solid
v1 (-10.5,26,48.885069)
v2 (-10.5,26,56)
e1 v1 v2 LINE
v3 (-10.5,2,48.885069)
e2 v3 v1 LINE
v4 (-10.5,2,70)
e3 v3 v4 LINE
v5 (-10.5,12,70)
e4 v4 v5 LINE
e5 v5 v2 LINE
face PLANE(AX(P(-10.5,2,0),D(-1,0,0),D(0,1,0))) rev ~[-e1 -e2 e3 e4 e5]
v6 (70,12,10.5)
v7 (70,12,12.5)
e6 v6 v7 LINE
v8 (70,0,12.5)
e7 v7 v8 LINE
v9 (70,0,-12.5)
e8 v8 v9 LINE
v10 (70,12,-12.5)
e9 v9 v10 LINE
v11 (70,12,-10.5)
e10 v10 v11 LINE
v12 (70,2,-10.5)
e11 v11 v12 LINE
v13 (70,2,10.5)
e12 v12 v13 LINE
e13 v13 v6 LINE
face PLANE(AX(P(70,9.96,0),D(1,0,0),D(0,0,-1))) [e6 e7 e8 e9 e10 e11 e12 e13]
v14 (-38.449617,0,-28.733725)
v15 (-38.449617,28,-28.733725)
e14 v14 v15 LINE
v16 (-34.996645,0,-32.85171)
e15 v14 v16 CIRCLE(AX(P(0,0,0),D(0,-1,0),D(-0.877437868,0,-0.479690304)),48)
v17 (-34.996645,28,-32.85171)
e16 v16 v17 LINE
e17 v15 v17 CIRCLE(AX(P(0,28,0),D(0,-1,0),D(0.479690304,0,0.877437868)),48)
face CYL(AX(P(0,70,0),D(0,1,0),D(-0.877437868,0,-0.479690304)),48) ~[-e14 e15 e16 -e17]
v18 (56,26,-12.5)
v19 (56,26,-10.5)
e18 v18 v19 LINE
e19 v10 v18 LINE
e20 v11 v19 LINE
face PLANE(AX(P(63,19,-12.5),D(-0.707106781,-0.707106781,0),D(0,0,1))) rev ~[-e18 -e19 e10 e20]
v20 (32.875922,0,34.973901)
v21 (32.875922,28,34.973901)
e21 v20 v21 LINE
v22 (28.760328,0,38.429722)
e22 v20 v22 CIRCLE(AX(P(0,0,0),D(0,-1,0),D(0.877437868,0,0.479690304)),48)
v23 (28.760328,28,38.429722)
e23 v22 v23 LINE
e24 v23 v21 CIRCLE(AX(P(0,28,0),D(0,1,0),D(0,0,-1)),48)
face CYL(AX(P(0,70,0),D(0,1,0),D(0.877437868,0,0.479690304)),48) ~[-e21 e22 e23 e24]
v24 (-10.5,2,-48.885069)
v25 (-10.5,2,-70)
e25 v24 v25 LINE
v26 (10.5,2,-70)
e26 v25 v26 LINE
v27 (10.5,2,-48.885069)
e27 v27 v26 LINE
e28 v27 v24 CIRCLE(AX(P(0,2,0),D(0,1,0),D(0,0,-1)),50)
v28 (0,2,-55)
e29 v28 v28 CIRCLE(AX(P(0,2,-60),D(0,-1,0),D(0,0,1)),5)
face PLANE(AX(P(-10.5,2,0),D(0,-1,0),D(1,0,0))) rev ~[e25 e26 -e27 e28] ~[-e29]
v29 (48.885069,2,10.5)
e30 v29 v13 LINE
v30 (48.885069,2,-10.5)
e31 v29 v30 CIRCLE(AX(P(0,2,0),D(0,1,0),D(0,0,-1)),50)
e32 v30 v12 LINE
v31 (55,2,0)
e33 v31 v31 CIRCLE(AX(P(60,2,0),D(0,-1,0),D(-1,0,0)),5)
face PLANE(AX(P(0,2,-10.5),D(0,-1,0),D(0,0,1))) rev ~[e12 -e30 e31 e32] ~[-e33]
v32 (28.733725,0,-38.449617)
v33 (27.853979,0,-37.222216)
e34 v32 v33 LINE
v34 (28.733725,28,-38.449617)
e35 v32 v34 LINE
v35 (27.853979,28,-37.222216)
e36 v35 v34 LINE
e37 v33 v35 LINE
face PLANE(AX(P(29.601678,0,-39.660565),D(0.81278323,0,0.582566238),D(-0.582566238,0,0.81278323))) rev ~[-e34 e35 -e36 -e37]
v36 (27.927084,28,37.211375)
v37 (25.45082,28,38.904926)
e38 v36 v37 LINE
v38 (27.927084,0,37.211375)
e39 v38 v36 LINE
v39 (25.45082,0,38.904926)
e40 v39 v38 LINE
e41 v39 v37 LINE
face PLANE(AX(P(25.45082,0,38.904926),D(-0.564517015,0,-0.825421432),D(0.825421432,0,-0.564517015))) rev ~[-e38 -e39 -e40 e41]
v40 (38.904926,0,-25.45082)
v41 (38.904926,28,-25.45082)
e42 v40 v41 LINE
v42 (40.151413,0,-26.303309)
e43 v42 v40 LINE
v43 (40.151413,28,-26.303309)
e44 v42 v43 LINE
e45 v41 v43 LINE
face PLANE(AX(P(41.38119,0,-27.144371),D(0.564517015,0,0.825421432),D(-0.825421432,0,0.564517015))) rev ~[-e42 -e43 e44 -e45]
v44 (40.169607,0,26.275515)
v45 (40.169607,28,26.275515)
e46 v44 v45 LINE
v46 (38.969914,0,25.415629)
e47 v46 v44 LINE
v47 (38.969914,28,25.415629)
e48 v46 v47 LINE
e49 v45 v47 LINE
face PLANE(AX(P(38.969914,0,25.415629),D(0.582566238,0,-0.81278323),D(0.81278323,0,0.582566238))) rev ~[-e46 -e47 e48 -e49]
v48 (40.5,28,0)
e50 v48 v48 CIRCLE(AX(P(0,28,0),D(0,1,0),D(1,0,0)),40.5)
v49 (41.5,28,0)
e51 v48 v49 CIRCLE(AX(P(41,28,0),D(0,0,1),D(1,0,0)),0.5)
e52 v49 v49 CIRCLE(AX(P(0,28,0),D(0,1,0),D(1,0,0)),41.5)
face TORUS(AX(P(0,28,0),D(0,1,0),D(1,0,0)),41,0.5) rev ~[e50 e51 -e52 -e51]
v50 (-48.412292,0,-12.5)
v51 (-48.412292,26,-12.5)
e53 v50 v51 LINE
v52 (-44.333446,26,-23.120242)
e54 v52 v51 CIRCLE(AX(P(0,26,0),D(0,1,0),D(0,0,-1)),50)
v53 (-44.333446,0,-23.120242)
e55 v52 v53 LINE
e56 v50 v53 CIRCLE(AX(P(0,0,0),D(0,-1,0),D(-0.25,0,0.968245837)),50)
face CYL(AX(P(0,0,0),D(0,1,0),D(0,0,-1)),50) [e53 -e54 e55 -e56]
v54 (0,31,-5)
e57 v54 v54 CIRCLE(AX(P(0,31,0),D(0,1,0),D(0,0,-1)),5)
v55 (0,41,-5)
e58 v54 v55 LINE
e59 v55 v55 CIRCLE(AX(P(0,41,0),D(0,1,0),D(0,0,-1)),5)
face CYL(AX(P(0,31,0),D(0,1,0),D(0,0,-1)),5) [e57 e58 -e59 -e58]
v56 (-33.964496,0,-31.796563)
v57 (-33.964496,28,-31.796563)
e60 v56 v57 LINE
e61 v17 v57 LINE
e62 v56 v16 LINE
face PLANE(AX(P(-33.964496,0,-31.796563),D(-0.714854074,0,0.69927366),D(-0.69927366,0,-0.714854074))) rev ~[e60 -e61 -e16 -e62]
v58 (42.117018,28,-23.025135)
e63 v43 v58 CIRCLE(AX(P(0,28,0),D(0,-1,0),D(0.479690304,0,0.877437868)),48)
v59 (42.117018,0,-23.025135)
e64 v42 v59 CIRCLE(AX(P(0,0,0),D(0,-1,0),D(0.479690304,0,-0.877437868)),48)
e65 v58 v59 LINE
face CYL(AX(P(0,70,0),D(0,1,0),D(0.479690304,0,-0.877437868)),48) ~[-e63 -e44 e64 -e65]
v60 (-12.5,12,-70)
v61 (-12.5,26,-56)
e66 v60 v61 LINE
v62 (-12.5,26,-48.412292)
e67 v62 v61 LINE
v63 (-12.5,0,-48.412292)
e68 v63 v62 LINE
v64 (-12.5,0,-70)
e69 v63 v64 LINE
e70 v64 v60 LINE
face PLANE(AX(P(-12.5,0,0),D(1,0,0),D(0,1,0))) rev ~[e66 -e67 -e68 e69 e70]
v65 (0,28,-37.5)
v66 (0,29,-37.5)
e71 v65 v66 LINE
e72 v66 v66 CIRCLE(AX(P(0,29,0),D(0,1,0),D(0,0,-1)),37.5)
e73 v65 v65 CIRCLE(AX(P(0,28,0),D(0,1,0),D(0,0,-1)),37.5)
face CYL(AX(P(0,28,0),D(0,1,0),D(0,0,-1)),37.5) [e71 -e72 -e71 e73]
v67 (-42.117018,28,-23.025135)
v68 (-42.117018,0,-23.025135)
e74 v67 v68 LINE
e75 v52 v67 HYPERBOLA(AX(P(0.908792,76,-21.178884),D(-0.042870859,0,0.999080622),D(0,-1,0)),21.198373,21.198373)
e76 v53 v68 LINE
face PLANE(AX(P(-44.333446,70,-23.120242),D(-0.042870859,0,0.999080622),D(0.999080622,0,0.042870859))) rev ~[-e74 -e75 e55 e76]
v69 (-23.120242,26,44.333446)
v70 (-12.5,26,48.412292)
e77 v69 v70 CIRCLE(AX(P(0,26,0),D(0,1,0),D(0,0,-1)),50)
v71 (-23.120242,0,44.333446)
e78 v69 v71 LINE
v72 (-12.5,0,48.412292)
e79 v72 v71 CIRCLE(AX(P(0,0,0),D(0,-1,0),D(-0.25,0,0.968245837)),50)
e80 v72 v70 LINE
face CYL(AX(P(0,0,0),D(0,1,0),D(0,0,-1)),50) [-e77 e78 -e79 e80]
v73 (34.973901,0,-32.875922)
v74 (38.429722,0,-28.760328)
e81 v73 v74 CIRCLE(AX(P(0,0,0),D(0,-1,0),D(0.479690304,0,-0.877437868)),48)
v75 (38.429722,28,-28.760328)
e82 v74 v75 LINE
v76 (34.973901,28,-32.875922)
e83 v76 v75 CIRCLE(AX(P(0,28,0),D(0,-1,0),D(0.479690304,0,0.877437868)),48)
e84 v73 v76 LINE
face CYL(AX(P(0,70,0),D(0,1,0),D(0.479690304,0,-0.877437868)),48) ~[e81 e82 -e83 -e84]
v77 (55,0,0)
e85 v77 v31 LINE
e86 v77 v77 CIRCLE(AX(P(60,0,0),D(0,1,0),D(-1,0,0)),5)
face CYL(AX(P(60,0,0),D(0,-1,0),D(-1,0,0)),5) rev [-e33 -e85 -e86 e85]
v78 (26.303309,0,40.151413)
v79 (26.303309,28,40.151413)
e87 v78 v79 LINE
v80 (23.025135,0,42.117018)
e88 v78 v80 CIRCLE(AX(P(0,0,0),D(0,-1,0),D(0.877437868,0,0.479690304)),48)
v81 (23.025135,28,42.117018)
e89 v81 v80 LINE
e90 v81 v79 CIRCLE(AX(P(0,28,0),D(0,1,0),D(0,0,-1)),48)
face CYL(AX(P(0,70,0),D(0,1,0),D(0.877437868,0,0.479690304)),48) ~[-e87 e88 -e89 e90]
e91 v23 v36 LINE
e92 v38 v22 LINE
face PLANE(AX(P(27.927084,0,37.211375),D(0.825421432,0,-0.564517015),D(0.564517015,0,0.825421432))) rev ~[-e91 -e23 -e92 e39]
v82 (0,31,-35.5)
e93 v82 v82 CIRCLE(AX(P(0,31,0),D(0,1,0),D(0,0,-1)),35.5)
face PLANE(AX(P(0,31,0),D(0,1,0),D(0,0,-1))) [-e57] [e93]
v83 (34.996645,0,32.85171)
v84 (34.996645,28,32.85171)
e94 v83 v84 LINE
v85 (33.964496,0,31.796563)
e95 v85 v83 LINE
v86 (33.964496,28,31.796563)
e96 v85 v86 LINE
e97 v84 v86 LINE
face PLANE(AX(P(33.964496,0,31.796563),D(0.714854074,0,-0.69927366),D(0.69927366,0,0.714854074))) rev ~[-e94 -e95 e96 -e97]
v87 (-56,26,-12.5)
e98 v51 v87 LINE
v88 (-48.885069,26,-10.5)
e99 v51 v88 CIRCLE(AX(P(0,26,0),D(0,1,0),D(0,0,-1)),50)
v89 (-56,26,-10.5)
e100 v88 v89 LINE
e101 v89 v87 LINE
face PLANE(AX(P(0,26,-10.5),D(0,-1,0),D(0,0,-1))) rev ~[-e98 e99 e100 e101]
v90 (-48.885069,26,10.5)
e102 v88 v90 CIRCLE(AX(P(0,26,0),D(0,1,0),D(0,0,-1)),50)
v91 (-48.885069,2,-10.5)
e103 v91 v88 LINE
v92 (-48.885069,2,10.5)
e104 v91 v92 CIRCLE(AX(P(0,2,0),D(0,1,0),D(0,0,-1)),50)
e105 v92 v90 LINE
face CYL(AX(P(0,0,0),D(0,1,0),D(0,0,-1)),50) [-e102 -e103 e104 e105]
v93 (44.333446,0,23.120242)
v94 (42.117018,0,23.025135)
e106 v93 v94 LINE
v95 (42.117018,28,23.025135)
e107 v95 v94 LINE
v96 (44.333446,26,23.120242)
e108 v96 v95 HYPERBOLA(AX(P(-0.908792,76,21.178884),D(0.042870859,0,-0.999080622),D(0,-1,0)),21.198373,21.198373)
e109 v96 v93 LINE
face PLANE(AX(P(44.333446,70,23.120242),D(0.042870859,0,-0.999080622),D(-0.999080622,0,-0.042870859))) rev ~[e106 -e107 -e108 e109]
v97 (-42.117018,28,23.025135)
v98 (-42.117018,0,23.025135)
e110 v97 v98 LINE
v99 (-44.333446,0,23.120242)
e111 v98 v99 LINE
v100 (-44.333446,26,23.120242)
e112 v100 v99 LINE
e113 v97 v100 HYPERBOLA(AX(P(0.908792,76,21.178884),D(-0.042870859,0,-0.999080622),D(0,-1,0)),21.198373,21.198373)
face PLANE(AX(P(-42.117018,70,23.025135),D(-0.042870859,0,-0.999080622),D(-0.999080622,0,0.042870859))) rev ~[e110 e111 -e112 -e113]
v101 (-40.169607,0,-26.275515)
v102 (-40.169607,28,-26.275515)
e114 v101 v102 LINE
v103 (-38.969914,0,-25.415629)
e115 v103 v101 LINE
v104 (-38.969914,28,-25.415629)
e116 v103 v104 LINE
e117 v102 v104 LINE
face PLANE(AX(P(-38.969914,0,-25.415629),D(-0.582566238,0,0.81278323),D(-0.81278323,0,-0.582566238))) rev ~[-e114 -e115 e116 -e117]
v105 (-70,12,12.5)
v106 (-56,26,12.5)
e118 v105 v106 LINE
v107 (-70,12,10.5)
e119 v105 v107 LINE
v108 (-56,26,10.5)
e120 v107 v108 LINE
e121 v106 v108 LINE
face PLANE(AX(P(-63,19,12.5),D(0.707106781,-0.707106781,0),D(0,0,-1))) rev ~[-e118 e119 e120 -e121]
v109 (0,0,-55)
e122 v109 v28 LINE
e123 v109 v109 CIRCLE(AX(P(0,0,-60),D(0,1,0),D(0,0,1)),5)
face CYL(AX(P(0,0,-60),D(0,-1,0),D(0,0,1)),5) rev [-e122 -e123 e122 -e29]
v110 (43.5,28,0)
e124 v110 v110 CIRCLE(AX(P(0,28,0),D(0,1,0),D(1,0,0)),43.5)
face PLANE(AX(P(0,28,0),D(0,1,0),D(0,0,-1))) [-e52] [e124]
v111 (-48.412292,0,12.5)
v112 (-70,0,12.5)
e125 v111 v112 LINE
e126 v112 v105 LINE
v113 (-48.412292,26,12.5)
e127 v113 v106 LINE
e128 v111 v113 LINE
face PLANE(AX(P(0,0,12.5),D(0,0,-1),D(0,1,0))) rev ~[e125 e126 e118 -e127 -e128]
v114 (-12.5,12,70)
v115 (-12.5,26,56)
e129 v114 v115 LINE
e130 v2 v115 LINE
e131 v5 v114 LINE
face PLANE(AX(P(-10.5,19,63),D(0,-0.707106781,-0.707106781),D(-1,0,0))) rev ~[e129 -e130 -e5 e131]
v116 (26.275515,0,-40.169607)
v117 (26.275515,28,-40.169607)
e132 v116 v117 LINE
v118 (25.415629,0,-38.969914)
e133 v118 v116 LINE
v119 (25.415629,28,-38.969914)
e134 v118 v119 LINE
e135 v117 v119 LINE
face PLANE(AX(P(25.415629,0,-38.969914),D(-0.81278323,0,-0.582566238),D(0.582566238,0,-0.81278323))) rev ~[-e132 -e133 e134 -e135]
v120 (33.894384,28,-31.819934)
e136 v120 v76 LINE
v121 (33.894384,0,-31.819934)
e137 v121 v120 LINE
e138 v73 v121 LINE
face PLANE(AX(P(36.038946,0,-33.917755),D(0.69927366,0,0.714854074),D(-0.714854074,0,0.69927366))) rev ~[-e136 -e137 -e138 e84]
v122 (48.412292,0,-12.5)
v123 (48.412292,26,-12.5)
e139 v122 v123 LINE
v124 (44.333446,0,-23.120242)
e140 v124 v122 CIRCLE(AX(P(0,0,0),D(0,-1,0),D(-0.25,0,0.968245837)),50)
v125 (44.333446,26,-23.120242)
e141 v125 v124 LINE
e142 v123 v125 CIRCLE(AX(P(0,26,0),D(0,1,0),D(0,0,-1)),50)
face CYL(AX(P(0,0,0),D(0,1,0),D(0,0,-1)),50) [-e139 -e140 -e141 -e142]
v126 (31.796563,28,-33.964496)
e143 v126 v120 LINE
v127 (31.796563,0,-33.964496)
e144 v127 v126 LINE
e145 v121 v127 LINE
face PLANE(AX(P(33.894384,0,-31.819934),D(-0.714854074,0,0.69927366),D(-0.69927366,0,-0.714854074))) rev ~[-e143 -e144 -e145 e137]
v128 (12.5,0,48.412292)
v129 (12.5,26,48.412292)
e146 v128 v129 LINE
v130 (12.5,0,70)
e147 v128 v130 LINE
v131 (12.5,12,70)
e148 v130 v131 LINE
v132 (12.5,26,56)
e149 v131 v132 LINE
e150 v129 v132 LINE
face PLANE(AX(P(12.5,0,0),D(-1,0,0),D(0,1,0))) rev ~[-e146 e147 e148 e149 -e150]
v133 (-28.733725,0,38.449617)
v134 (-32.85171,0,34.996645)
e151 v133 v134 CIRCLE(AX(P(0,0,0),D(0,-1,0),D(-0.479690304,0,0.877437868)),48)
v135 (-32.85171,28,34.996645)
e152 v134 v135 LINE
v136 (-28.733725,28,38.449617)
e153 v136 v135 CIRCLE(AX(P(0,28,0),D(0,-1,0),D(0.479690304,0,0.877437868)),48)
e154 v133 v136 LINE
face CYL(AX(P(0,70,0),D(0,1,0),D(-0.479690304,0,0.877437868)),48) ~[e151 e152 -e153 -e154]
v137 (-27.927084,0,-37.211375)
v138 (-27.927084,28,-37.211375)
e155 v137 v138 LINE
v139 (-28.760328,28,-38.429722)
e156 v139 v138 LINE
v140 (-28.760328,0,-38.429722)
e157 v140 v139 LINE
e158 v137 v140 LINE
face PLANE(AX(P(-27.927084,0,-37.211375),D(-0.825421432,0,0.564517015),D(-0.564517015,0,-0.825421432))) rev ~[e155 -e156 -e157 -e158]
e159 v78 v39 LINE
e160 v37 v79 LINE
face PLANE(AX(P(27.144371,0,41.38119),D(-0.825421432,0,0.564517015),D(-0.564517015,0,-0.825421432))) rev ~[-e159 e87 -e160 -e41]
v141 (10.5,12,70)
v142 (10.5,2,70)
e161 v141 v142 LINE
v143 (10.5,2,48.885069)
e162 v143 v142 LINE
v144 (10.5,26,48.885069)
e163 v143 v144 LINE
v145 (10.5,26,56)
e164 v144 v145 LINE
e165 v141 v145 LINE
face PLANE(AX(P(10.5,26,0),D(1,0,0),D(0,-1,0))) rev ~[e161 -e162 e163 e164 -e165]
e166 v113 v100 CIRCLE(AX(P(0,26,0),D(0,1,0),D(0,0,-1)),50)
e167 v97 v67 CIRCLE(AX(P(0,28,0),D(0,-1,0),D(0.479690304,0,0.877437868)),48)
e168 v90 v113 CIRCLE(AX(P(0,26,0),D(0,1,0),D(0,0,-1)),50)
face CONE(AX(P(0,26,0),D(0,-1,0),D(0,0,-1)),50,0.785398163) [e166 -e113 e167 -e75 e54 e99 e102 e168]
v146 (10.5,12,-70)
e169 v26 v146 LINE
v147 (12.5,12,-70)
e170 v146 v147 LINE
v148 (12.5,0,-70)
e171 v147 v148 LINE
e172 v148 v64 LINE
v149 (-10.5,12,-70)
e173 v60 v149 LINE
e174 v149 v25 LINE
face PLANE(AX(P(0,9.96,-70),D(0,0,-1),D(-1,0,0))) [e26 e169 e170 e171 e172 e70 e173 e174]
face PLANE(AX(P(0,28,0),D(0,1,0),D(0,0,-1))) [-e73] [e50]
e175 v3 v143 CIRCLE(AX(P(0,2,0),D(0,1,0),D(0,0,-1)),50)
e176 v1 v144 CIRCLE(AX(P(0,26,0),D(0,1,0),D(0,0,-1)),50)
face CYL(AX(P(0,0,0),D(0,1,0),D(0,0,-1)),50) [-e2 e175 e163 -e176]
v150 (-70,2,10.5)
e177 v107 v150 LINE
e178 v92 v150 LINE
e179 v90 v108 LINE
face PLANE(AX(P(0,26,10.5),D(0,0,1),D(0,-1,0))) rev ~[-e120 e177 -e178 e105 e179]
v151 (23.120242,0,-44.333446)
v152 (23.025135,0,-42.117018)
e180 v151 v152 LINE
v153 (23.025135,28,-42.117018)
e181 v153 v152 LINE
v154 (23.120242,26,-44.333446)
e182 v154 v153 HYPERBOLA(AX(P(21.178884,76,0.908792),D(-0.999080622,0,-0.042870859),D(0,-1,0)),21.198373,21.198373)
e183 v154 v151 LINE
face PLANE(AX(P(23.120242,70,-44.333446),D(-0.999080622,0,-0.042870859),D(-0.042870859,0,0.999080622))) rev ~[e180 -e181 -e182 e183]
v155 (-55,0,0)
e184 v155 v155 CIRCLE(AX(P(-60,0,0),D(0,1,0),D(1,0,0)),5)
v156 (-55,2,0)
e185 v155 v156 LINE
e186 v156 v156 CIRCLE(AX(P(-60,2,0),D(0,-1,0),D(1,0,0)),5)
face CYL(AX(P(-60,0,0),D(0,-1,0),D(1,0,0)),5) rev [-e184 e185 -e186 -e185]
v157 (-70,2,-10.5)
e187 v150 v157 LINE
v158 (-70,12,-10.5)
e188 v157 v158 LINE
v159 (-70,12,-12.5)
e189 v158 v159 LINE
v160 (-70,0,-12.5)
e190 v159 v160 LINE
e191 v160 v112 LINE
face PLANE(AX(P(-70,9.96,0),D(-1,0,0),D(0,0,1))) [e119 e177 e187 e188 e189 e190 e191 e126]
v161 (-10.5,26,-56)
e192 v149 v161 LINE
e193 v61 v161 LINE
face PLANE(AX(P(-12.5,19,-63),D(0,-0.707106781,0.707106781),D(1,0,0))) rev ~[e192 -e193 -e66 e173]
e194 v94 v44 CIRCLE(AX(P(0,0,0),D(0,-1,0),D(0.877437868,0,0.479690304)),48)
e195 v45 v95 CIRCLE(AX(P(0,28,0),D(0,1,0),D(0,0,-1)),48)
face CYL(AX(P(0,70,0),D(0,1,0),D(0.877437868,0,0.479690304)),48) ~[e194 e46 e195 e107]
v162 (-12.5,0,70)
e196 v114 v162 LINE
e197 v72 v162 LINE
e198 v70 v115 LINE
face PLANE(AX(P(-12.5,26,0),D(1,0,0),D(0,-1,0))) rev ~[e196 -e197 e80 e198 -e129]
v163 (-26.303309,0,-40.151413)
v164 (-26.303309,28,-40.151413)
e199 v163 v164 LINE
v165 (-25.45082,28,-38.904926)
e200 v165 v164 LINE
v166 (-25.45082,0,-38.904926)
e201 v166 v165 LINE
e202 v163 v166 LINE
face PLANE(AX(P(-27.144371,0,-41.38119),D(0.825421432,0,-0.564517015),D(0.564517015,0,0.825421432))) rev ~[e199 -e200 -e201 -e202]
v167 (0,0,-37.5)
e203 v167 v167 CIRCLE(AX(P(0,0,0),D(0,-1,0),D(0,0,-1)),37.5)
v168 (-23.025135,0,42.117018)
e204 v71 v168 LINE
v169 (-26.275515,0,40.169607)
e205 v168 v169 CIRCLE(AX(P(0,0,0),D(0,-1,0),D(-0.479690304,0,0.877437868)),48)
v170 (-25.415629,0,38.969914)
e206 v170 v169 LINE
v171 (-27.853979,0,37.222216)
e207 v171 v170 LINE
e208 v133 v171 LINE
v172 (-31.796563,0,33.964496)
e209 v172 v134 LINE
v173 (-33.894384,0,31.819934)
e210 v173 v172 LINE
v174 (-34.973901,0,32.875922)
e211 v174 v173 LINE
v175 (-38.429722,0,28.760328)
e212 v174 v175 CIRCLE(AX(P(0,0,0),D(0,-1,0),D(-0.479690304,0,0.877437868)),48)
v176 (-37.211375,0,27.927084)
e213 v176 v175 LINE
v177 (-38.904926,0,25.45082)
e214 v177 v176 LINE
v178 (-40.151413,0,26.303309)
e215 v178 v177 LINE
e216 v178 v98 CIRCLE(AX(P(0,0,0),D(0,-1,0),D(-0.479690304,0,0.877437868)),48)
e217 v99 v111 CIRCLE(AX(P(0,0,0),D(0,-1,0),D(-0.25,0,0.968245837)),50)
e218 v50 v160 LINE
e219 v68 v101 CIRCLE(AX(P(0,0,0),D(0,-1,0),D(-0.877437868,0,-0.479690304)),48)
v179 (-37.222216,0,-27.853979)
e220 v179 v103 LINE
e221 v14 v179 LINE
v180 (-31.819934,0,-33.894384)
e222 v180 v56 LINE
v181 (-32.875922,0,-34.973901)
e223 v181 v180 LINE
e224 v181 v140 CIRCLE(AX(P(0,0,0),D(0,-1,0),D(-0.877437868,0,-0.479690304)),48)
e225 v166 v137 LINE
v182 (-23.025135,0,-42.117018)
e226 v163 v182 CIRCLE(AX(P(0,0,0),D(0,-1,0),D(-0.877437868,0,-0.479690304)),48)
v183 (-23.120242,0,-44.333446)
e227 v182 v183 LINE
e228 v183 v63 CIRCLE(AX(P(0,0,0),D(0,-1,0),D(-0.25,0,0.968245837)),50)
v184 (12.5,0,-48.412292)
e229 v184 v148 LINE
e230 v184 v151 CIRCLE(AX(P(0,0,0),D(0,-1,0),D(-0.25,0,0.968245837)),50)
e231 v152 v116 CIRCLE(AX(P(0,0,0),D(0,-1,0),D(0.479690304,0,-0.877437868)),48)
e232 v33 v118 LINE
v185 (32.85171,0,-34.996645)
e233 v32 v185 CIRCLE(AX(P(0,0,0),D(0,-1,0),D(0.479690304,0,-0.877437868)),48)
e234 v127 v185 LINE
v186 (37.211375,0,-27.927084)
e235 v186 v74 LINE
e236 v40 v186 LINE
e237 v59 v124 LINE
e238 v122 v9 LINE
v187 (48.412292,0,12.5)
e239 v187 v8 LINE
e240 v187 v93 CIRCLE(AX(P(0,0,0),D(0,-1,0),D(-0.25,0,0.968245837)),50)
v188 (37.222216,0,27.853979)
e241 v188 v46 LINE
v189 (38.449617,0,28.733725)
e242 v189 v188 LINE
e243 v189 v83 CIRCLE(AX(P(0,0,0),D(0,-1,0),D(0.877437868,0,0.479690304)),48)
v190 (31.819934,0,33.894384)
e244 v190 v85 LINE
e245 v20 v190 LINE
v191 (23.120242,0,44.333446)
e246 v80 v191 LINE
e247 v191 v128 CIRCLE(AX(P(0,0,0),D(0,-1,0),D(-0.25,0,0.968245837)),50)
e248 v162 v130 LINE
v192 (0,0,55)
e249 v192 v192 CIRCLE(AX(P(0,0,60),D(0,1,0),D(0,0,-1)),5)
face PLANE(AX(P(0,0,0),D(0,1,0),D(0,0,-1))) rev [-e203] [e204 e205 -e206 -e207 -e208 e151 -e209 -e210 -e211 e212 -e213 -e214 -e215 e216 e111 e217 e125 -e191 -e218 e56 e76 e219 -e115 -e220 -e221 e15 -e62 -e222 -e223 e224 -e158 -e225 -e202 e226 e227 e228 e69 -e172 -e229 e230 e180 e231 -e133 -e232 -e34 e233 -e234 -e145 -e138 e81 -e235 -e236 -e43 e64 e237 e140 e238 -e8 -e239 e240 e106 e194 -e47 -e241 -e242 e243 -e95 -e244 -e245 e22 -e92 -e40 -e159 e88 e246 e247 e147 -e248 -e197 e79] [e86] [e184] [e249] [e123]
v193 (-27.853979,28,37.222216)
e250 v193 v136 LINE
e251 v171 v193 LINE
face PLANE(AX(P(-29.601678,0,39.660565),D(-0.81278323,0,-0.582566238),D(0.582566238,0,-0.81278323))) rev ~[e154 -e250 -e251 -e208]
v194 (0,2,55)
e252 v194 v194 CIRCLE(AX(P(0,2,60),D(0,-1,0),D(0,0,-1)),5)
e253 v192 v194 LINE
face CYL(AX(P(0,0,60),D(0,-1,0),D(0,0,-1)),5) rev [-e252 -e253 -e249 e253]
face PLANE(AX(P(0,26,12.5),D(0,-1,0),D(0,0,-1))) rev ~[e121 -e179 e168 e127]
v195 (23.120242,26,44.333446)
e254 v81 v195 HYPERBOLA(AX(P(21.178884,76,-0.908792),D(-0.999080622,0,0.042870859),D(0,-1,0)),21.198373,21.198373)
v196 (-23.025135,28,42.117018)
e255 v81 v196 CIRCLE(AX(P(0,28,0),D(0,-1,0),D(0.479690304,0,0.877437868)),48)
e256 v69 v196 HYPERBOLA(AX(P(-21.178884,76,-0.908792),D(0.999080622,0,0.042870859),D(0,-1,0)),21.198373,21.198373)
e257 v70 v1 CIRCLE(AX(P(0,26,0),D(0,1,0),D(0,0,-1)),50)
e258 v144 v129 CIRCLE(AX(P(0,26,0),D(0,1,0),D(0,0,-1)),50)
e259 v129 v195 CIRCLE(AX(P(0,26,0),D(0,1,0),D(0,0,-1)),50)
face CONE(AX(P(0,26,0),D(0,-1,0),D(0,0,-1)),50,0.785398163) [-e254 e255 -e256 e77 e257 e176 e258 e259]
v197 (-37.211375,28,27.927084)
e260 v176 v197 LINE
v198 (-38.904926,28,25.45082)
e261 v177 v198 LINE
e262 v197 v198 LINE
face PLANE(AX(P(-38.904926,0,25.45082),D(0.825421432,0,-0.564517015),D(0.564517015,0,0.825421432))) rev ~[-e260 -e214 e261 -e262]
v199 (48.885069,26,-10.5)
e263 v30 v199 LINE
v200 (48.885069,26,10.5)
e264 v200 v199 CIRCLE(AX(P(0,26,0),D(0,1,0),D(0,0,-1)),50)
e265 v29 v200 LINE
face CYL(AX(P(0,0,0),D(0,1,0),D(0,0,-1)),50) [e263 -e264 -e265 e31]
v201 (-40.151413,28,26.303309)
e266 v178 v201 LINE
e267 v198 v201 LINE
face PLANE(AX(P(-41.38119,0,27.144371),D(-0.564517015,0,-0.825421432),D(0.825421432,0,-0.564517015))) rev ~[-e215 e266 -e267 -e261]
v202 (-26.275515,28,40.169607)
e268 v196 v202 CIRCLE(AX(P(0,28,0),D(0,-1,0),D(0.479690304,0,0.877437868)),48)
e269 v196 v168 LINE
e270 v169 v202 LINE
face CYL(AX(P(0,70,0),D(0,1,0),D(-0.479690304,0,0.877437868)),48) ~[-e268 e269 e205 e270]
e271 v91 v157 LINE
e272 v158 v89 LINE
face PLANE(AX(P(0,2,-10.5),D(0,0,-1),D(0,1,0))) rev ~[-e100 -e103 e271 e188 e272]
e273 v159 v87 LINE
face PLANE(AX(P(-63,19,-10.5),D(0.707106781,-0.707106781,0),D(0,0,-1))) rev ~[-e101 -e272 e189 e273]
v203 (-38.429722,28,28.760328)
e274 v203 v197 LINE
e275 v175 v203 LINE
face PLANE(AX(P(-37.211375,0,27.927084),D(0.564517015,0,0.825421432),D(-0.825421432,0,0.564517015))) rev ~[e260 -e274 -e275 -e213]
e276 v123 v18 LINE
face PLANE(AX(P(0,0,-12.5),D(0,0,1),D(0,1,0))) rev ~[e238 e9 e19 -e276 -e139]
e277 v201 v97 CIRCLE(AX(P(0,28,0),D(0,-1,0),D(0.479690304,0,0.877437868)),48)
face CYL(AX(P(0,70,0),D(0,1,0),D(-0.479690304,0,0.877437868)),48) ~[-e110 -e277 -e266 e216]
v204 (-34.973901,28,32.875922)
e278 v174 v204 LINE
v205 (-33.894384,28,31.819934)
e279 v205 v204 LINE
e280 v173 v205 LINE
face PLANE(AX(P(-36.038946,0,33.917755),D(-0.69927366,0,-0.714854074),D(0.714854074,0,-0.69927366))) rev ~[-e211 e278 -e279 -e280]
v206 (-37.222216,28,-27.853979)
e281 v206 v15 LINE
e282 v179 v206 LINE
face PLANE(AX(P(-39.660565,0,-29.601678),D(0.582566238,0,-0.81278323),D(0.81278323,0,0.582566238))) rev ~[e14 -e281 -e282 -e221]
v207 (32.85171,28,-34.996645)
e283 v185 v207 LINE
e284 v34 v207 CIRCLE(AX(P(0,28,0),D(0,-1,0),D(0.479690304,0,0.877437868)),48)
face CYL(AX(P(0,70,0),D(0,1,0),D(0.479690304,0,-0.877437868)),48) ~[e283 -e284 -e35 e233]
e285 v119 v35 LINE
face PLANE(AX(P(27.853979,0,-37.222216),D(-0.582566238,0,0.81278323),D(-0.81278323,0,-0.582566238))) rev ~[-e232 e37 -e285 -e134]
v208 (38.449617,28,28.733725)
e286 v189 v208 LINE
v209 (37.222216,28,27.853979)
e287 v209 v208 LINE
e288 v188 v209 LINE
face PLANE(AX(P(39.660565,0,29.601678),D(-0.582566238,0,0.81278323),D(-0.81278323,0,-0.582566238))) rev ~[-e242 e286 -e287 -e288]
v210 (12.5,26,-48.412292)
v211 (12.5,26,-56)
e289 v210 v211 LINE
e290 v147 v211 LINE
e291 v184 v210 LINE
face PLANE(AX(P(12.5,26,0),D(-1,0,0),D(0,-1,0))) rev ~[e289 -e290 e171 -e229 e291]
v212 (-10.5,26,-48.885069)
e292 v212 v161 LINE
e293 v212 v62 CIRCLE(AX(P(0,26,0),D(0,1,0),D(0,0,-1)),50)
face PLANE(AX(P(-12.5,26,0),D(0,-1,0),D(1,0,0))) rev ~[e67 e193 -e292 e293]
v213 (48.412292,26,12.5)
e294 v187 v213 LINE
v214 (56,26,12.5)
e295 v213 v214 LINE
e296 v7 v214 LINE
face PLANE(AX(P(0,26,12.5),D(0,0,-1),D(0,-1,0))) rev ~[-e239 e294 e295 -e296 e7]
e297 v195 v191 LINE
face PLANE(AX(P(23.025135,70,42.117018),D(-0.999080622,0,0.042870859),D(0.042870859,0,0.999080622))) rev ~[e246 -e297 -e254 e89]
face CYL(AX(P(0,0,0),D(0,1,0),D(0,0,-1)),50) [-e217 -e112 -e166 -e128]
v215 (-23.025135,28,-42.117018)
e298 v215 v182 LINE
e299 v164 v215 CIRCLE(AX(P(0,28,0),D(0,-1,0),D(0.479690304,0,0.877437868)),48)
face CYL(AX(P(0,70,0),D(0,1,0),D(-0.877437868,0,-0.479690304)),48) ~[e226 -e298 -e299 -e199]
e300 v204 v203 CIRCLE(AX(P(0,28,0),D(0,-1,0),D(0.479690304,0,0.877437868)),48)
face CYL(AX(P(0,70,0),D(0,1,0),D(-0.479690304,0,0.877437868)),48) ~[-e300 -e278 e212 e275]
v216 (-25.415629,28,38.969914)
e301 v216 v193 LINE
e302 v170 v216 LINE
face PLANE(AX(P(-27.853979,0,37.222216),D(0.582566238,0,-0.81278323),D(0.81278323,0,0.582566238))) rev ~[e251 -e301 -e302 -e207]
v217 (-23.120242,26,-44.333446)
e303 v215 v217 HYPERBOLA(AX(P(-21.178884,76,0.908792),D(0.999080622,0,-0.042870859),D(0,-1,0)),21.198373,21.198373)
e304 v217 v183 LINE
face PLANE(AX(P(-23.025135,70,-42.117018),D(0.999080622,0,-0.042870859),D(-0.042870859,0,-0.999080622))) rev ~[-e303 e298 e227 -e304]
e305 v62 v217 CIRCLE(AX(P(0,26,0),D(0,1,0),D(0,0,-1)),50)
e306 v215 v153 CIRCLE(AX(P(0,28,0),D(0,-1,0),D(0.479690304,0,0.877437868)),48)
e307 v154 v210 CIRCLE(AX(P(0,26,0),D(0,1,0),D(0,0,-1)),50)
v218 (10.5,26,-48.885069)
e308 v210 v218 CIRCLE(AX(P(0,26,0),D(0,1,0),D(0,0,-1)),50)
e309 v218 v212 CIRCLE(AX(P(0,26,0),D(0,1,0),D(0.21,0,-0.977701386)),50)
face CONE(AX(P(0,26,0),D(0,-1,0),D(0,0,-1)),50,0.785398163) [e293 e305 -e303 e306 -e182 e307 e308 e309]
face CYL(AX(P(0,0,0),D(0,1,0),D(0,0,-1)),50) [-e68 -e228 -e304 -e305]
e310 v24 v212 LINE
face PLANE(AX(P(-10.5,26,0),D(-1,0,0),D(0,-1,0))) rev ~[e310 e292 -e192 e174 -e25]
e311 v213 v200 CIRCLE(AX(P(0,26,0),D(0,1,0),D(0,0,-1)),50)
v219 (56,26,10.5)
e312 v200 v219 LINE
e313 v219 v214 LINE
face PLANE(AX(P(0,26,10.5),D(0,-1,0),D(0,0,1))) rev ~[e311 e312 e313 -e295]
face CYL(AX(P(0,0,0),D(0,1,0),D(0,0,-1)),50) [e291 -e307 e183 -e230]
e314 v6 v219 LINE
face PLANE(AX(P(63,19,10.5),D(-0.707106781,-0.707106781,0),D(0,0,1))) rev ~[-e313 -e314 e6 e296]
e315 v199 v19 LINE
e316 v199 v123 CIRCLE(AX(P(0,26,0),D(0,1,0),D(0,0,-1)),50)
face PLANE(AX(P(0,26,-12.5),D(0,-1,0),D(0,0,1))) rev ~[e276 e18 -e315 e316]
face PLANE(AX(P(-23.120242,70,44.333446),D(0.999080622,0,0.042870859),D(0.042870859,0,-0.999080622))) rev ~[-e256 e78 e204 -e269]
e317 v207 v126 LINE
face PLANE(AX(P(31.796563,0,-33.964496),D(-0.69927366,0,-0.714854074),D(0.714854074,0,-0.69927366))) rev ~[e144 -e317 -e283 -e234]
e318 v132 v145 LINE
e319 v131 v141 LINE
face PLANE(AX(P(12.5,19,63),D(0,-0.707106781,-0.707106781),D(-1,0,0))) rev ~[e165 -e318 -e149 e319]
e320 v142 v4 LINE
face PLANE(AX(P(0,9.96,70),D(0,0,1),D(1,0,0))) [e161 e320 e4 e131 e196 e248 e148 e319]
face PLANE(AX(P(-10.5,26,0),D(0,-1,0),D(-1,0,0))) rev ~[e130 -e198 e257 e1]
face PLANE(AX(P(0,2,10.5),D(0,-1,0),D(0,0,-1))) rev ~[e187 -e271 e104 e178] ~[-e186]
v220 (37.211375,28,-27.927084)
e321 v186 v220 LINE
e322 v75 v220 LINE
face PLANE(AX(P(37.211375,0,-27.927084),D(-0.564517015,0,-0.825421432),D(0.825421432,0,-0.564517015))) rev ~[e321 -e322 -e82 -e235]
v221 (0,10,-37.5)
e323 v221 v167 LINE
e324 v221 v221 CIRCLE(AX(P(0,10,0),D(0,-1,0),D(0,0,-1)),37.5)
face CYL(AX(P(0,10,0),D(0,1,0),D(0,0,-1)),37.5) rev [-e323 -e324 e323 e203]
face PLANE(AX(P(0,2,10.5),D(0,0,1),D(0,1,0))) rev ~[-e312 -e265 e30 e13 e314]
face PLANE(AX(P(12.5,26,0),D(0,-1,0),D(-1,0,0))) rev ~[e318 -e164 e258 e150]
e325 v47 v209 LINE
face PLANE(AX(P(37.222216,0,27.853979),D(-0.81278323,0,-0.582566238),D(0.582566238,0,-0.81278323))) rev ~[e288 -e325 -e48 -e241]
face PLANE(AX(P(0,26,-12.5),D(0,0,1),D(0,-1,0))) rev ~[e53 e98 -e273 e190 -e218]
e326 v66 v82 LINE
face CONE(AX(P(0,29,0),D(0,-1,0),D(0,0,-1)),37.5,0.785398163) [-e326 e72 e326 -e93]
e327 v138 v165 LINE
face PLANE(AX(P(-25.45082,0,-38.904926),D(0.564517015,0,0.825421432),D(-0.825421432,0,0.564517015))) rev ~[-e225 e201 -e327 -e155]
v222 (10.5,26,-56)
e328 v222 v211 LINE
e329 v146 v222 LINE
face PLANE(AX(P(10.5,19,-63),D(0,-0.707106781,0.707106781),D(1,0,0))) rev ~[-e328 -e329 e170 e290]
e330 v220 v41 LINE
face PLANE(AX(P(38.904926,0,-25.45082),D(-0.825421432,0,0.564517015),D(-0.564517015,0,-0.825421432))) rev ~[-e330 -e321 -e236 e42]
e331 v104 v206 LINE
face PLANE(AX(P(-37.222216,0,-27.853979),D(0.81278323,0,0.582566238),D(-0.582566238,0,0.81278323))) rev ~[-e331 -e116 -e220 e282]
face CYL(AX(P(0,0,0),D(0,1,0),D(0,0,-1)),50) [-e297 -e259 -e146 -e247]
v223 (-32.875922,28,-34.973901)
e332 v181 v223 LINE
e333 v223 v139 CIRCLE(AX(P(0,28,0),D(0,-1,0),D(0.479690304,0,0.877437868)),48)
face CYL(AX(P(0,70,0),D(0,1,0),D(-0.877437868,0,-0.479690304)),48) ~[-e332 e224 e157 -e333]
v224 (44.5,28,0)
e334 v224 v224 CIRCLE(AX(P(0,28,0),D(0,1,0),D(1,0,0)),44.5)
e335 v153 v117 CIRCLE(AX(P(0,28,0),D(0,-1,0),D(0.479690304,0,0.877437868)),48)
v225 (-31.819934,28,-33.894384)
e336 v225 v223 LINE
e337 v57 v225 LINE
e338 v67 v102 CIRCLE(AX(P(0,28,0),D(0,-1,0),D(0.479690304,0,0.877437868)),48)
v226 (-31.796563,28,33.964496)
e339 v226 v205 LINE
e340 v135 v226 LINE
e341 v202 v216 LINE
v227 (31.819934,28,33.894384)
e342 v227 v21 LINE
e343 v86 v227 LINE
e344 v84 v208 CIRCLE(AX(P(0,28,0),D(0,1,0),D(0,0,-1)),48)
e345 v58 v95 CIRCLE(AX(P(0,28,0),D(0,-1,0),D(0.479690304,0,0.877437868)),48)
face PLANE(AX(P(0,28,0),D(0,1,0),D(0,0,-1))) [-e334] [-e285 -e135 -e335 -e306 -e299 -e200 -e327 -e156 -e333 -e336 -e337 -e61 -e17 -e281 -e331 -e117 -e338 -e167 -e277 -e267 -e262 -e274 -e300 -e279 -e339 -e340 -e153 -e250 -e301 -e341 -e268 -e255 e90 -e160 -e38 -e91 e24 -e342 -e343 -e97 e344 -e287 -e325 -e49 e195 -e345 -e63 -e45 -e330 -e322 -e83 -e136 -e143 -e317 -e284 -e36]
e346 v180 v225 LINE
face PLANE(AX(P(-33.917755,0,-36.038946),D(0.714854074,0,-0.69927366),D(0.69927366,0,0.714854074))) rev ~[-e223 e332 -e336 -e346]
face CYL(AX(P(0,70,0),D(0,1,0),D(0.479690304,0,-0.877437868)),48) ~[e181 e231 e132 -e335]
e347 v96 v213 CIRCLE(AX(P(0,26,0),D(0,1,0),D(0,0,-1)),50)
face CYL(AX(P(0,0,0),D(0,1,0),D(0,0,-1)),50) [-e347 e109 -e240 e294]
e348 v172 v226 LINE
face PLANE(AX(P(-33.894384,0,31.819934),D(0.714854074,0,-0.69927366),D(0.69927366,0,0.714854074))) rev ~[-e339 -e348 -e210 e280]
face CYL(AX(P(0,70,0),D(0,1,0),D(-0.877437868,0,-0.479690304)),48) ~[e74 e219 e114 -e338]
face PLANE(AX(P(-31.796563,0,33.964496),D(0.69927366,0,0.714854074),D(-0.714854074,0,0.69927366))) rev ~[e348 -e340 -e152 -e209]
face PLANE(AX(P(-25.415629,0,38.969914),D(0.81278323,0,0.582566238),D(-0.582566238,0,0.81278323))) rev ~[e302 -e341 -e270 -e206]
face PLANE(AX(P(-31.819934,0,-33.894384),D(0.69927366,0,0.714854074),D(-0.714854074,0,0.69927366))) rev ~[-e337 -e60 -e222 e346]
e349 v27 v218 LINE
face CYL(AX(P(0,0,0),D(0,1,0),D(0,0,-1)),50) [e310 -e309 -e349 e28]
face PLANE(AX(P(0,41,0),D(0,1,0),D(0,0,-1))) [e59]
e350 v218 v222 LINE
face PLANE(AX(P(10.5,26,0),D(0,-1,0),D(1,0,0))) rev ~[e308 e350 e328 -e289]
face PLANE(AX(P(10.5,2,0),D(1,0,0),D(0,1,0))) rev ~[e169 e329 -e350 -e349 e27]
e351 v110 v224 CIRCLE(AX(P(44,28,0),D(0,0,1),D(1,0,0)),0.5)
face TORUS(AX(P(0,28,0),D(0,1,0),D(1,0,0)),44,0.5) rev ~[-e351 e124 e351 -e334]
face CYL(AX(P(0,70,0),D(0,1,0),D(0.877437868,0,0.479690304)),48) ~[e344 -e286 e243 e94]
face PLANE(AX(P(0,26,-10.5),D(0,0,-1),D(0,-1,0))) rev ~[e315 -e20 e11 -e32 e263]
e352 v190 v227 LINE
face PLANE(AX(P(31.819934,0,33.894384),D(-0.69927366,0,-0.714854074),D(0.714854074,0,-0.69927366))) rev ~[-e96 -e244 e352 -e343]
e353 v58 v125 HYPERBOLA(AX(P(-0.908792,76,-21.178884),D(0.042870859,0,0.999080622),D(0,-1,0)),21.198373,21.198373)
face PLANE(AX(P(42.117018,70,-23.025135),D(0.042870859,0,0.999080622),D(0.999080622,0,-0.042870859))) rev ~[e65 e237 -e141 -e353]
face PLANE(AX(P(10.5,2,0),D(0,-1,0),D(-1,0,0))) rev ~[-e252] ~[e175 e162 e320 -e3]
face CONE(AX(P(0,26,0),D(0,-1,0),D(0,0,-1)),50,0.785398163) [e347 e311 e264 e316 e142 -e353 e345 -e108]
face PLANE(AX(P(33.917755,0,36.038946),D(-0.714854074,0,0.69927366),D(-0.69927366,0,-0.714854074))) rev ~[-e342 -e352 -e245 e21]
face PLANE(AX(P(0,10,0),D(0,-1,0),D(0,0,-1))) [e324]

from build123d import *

# Parameters (mm, degrees)
CHAMFER1_SIZE                   = 2
BOSS_EXTRUDE1_DEPTH             = 70
CHAMFER3_SIZE                   = 14
SKETCH7_R                       = 5
CUT_EXTRUDE1_DEPTH              = 70
CIRPATTERN4_COUNT               = 4
CHAMFER3_OF_CIRPATTERN4_SIZE    = 14
CUT_EXTRUDE3_START              = 70
CUT_EXTRUDE3_DEPTH              = 70
CUT_EXTRUDE4_DEPTH              = 70
CIRPATTERN5_COUNT               = 2
CIRPATTERN5_ANGLE               = 10
CIRPATTERN5_THE_OTHER_WAY_COUNT = 2
CIRPATTERN5_THE_OTHER_WAY_ANGLE = 10
CIRPATTERN7_COUNT               = 4
CIRPATTERN7_COPY_1_DEPTH        = 70
CIRPATTERN7_COPY_2_DEPTH        = 70
CIRPATTERN7_COPY_3_DEPTH        = 70
CIRPATTERN7_COPY_4_DEPTH        = 70
CIRPATTERN7_COPY_5_DEPTH        = 70
CIRPATTERN7_COPY_6_DEPTH        = 70
CUT_SWEEP2_PROFILE_R            = 0.5
CUT_SWEEP9_PROFILE_R            = 0.5
CUT_EXTRUDE5_START              = -10
SKETCH109_R                     = 37.5
CUT_EXTRUDE5_DEPTH              = 10


with BuildPart() as part:
    # Sketch1 → Revolve1 (revolve)
    with BuildSketch(Plane.XY, mode=Mode.PRIVATE) as revolve1_sk:
        Polygon((0, 0), (-50, 0), (-50, 28), (-37.5, 28), (-37.5, 31), (-5, 31), (-5, 41), (0, 41), align=None)
    revolve(revolve1_sk.sketch.rotate(Axis((0, 0, 0), (0, 1, 0)), 270), axis=Axis((0, 0, 0), (0, 1, 0)))

    # Chamfer1
    chamfer1_edges = [part.edges().sort_by_distance(p)[0] for p in [
        (0, 31, 37.5),
        (0, 28, 50),
    ]]
    chamfer(chamfer1_edges, length=CHAMFER1_SIZE)

    # Sketch3 → Boss-Extrude1 (add)
    with BuildSketch(Plane.XY):
        Polygon((-12.5, 26), (-12.5, 0), (12.5, 0), (12.5, 26), (10.5, 26), (10.5, 2), (-10.5, 2), (-10.5, 26), align=None)
    boss_extrude1 = extrude(amount=BOSS_EXTRUDE1_DEPTH)

    # Chamfer3
    chamfer3_edges = [part.edges().sort_by_distance(p)[0] for p in [
        (11.5, 26, 70),
        (-11.5, 26, 70),
    ]]
    chamfer(chamfer3_edges, length=CHAMFER3_SIZE)

    # Sketch7 → Cut-Extrude1 (cut)
    with BuildSketch(Plane(origin=(0, 0, 0), x_dir=(1, 0, 0), z_dir=(0, 1, 0))):
        with Locations(Location((0, -60, 0), (0, 0, 90))):
            Circle(SKETCH7_R)
    cut_extrude1 = extrude(amount=CUT_EXTRUDE1_DEPTH, mode=Mode.SUBTRACT)

    # CirPattern4: Boss-Extrude1, Cut-Extrude1 ×4 about axis
    cirpattern4_axis = Axis((0, 0, 0), (0, 1, 0))
    add([boss_extrude1.rotate(cirpattern4_axis, i * 360 / CIRPATTERN4_COUNT) for i in range(1, CIRPATTERN4_COUNT)])
    add([cut_extrude1.rotate(cirpattern4_axis, i * 360 / CIRPATTERN4_COUNT) for i in range(1, CIRPATTERN4_COUNT)], mode=Mode.SUBTRACT)

    # Chamfer3 of CirPattern4
    chamfer3_of_cirpattern4_edges = [part.edges().sort_by_distance(p)[0] for p in [
        (70, 26, -11.5),
        (70, 26, 11.5),
        (-11.5, 26, -70),
        (11.5, 26, -70),
        (-70, 26, 11.5),
        (-70, 26, -11.5),
    ]]
    chamfer(chamfer3_of_cirpattern4_edges, length=CHAMFER3_OF_CIRPATTERN4_SIZE)

    # Sketch12 → Cut-Extrude3 (cut)
    with BuildSketch(Plane(origin=(0, 0, 0), x_dir=(1, 0, 0), z_dir=(0, 1, 0)).offset(CUT_EXTRUDE3_START)):
        with BuildLine():
            Line((23.02513458, -42.117017672), (23.12024219, -44.333445626))
            ThreePointArc((23.12024219, -44.333445626), (35.355339059, -35.355339059), (44.333445626, -23.12024219))
            Line((44.333445626, -23.12024219), (42.117017672, -23.02513458))
            ThreePointArc((42.117017672, -23.02513458), (33.941125497, -33.941125497), (23.02513458, -42.117017672))
        make_face()
    cut_extrude3 = extrude(amount=-CUT_EXTRUDE3_DEPTH, mode=Mode.SUBTRACT)

    # Sketch19 → Cut-Extrude4 (cut)
    with BuildSketch(Plane(origin=(0, 0, 0), x_dir=(1, 0, 0), z_dir=(0, 1, 0))):
        Polygon((36.062317099, -33.941125497), (33.917754876, -36.038946478), (31.819933895, -33.894384255), (33.964496118, -31.796563274), align=None)
    cut_extrude4 = extrude(amount=CUT_EXTRUDE4_DEPTH, mode=Mode.SUBTRACT)

    # CirPattern5: Cut-Extrude4 ×2 about axis
    cirpattern5_axis = Axis((0, 0, 0), (0, -1, 0))
    for i in range(1, CIRPATTERN5_COUNT):
        add(cut_extrude4.rotate(cirpattern5_axis, i * CIRPATTERN5_ANGLE / (CIRPATTERN5_COUNT - 1)), mode=Mode.SUBTRACT)

    # CirPattern5 the other way: Cut-Extrude4 ×2 about axis
    cirpattern5_the_other_way_axis = Axis((0, 0, 0), (0, 1, 0))
    for i in range(1, CIRPATTERN5_THE_OTHER_WAY_COUNT):
        add(cut_extrude4.rotate(cirpattern5_the_other_way_axis, i * CIRPATTERN5_THE_OTHER_WAY_ANGLE / (CIRPATTERN5_THE_OTHER_WAY_COUNT - 1)), mode=Mode.SUBTRACT)

    # CirPattern7: Cut-Extrude3, Cut-Extrude4 ×4 about axis
    cirpattern7_axis = Axis((0, 0, 0), (0, 1, 0))
    add([cut_extrude3.rotate(cirpattern7_axis, i * 360 / CIRPATTERN7_COUNT) for i in range(1, CIRPATTERN7_COUNT)], mode=Mode.SUBTRACT)
    add([cut_extrude4.rotate(cirpattern7_axis, i * 360 / CIRPATTERN7_COUNT) for i in range(1, CIRPATTERN7_COUNT)], mode=Mode.SUBTRACT)

    # CirPattern7 copy 1 sketch → CirPattern7 copy 1 (cut)
    with BuildSketch(Plane(origin=(0, 0, 0), x_dir=(0.1736481776669308, 0, -0.984807753012208), z_dir=(0, 1, 0))):
        Polygon((36.062317099, -33.941125497), (33.917754876, -36.038946478), (31.819933895, -33.894384255), (33.964496118, -31.796563274), align=None)
    extrude(amount=CIRPATTERN7_COPY_1_DEPTH, mode=Mode.SUBTRACT)

    # CirPattern7 copy 2 sketch → CirPattern7 copy 2 (cut)
    with BuildSketch(Plane(origin=(0, 0, 0), x_dir=(-0.984807753012208, 0, -0.17364817766693086), z_dir=(0, 1, 0))):
        Polygon((36.062317099, -33.941125497), (33.917754876, -36.038946478), (31.819933895, -33.894384255), (33.964496118, -31.796563274), align=None)
    extrude(amount=CIRPATTERN7_COPY_2_DEPTH, mode=Mode.SUBTRACT)

    # CirPattern7 copy 3 sketch → CirPattern7 copy 3 (cut)
    with BuildSketch(Plane(origin=(0, 0, 0), x_dir=(-0.17364817766693094, 0, 0.984807753012208), z_dir=(0, 1, 0))):
        Polygon((36.062317099, -33.941125497), (33.917754876, -36.038946478), (31.819933895, -33.894384255), (33.964496118, -31.796563274), align=None)
    extrude(amount=CIRPATTERN7_COPY_3_DEPTH, mode=Mode.SUBTRACT)

    # CirPattern7 copy 4 sketch → CirPattern7 copy 4 (cut)
    with BuildSketch(Plane(origin=(0, 0, 0), x_dir=(-0.1736481776669307, 0, -0.984807753012208), z_dir=(0, 1, 0))):
        Polygon((36.062317099, -33.941125497), (33.917754876, -36.038946478), (31.819933895, -33.894384255), (33.964496118, -31.796563274), align=None)
    extrude(amount=CIRPATTERN7_COPY_4_DEPTH, mode=Mode.SUBTRACT)

    # CirPattern7 copy 5 sketch → CirPattern7 copy 5 (cut)
    with BuildSketch(Plane(origin=(0, 0, 0), x_dir=(-0.984807753012208, 0, 0.17364817766693064), z_dir=(0, 1, 0))):
        Polygon((36.062317099, -33.941125497), (33.917754876, -36.038946478), (31.819933895, -33.894384255), (33.964496118, -31.796563274), align=None)
    extrude(amount=CIRPATTERN7_COPY_5_DEPTH, mode=Mode.SUBTRACT)

    # CirPattern7 copy 6 sketch → CirPattern7 copy 6 (cut)
    with BuildSketch(Plane(origin=(0, 0, 0), x_dir=(0.17364817766693055, 0, 0.984807753012208), z_dir=(0, 1, 0))):
        Polygon((36.062317099, -33.941125497), (33.917754876, -36.038946478), (31.819933895, -33.894384255), (33.964496118, -31.796563274), align=None)
    extrude(amount=CIRPATTERN7_COPY_6_DEPTH, mode=Mode.SUBTRACT)

    # Cut-Sweep2: sweep along a path in Sketch27
    with BuildLine(Plane(origin=(0, 28, 0), x_dir=(1, 0, 0), z_dir=(0, 1, 0))) as cut_sweep2_path:
        CenterArc((0, 0), 41, 0, 360)
    # Cut-Sweep2 profile (on start of the path) → Cut-Sweep2 (sweep, cut)
    with BuildSketch(Plane(origin=(41, 28, 0), x_dir=(-1, 0, 0), z_dir=(0, 0, -1))):
        Circle(CUT_SWEEP2_PROFILE_R)
    sweep(path=cut_sweep2_path.line, mode=Mode.SUBTRACT)

    # Cut-Sweep9: sweep along a path in Sketch102
    with BuildLine(Plane(origin=(0, 28, 0), x_dir=(1, 0, 0), z_dir=(0, 1, 0))) as cut_sweep9_path:
        CenterArc((0, 0), 44, 0, 360)
    # Cut-Sweep9 profile (on start of the path) → Cut-Sweep9 (sweep, cut)
    with BuildSketch(Plane(origin=(44, 28, 0), x_dir=(-1, 0, 0), z_dir=(0, 0, -1))):
        Circle(CUT_SWEEP9_PROFILE_R)
    sweep(path=cut_sweep9_path.line, mode=Mode.SUBTRACT)

    # Sketch109 → Cut-Extrude5 (cut)
    with BuildSketch(Plane(origin=(0, 0, 0), x_dir=(-1, 0, 0), z_dir=(0, -1, 0)).offset(CUT_EXTRUDE5_START)):
        with Locations(Location((0, 0, 0), (0, 0, 90))):
            Circle(SKETCH109_R)
    extrude(amount=CUT_EXTRUDE5_DEPTH, mode=Mode.SUBTRACT)


solid = part.part
